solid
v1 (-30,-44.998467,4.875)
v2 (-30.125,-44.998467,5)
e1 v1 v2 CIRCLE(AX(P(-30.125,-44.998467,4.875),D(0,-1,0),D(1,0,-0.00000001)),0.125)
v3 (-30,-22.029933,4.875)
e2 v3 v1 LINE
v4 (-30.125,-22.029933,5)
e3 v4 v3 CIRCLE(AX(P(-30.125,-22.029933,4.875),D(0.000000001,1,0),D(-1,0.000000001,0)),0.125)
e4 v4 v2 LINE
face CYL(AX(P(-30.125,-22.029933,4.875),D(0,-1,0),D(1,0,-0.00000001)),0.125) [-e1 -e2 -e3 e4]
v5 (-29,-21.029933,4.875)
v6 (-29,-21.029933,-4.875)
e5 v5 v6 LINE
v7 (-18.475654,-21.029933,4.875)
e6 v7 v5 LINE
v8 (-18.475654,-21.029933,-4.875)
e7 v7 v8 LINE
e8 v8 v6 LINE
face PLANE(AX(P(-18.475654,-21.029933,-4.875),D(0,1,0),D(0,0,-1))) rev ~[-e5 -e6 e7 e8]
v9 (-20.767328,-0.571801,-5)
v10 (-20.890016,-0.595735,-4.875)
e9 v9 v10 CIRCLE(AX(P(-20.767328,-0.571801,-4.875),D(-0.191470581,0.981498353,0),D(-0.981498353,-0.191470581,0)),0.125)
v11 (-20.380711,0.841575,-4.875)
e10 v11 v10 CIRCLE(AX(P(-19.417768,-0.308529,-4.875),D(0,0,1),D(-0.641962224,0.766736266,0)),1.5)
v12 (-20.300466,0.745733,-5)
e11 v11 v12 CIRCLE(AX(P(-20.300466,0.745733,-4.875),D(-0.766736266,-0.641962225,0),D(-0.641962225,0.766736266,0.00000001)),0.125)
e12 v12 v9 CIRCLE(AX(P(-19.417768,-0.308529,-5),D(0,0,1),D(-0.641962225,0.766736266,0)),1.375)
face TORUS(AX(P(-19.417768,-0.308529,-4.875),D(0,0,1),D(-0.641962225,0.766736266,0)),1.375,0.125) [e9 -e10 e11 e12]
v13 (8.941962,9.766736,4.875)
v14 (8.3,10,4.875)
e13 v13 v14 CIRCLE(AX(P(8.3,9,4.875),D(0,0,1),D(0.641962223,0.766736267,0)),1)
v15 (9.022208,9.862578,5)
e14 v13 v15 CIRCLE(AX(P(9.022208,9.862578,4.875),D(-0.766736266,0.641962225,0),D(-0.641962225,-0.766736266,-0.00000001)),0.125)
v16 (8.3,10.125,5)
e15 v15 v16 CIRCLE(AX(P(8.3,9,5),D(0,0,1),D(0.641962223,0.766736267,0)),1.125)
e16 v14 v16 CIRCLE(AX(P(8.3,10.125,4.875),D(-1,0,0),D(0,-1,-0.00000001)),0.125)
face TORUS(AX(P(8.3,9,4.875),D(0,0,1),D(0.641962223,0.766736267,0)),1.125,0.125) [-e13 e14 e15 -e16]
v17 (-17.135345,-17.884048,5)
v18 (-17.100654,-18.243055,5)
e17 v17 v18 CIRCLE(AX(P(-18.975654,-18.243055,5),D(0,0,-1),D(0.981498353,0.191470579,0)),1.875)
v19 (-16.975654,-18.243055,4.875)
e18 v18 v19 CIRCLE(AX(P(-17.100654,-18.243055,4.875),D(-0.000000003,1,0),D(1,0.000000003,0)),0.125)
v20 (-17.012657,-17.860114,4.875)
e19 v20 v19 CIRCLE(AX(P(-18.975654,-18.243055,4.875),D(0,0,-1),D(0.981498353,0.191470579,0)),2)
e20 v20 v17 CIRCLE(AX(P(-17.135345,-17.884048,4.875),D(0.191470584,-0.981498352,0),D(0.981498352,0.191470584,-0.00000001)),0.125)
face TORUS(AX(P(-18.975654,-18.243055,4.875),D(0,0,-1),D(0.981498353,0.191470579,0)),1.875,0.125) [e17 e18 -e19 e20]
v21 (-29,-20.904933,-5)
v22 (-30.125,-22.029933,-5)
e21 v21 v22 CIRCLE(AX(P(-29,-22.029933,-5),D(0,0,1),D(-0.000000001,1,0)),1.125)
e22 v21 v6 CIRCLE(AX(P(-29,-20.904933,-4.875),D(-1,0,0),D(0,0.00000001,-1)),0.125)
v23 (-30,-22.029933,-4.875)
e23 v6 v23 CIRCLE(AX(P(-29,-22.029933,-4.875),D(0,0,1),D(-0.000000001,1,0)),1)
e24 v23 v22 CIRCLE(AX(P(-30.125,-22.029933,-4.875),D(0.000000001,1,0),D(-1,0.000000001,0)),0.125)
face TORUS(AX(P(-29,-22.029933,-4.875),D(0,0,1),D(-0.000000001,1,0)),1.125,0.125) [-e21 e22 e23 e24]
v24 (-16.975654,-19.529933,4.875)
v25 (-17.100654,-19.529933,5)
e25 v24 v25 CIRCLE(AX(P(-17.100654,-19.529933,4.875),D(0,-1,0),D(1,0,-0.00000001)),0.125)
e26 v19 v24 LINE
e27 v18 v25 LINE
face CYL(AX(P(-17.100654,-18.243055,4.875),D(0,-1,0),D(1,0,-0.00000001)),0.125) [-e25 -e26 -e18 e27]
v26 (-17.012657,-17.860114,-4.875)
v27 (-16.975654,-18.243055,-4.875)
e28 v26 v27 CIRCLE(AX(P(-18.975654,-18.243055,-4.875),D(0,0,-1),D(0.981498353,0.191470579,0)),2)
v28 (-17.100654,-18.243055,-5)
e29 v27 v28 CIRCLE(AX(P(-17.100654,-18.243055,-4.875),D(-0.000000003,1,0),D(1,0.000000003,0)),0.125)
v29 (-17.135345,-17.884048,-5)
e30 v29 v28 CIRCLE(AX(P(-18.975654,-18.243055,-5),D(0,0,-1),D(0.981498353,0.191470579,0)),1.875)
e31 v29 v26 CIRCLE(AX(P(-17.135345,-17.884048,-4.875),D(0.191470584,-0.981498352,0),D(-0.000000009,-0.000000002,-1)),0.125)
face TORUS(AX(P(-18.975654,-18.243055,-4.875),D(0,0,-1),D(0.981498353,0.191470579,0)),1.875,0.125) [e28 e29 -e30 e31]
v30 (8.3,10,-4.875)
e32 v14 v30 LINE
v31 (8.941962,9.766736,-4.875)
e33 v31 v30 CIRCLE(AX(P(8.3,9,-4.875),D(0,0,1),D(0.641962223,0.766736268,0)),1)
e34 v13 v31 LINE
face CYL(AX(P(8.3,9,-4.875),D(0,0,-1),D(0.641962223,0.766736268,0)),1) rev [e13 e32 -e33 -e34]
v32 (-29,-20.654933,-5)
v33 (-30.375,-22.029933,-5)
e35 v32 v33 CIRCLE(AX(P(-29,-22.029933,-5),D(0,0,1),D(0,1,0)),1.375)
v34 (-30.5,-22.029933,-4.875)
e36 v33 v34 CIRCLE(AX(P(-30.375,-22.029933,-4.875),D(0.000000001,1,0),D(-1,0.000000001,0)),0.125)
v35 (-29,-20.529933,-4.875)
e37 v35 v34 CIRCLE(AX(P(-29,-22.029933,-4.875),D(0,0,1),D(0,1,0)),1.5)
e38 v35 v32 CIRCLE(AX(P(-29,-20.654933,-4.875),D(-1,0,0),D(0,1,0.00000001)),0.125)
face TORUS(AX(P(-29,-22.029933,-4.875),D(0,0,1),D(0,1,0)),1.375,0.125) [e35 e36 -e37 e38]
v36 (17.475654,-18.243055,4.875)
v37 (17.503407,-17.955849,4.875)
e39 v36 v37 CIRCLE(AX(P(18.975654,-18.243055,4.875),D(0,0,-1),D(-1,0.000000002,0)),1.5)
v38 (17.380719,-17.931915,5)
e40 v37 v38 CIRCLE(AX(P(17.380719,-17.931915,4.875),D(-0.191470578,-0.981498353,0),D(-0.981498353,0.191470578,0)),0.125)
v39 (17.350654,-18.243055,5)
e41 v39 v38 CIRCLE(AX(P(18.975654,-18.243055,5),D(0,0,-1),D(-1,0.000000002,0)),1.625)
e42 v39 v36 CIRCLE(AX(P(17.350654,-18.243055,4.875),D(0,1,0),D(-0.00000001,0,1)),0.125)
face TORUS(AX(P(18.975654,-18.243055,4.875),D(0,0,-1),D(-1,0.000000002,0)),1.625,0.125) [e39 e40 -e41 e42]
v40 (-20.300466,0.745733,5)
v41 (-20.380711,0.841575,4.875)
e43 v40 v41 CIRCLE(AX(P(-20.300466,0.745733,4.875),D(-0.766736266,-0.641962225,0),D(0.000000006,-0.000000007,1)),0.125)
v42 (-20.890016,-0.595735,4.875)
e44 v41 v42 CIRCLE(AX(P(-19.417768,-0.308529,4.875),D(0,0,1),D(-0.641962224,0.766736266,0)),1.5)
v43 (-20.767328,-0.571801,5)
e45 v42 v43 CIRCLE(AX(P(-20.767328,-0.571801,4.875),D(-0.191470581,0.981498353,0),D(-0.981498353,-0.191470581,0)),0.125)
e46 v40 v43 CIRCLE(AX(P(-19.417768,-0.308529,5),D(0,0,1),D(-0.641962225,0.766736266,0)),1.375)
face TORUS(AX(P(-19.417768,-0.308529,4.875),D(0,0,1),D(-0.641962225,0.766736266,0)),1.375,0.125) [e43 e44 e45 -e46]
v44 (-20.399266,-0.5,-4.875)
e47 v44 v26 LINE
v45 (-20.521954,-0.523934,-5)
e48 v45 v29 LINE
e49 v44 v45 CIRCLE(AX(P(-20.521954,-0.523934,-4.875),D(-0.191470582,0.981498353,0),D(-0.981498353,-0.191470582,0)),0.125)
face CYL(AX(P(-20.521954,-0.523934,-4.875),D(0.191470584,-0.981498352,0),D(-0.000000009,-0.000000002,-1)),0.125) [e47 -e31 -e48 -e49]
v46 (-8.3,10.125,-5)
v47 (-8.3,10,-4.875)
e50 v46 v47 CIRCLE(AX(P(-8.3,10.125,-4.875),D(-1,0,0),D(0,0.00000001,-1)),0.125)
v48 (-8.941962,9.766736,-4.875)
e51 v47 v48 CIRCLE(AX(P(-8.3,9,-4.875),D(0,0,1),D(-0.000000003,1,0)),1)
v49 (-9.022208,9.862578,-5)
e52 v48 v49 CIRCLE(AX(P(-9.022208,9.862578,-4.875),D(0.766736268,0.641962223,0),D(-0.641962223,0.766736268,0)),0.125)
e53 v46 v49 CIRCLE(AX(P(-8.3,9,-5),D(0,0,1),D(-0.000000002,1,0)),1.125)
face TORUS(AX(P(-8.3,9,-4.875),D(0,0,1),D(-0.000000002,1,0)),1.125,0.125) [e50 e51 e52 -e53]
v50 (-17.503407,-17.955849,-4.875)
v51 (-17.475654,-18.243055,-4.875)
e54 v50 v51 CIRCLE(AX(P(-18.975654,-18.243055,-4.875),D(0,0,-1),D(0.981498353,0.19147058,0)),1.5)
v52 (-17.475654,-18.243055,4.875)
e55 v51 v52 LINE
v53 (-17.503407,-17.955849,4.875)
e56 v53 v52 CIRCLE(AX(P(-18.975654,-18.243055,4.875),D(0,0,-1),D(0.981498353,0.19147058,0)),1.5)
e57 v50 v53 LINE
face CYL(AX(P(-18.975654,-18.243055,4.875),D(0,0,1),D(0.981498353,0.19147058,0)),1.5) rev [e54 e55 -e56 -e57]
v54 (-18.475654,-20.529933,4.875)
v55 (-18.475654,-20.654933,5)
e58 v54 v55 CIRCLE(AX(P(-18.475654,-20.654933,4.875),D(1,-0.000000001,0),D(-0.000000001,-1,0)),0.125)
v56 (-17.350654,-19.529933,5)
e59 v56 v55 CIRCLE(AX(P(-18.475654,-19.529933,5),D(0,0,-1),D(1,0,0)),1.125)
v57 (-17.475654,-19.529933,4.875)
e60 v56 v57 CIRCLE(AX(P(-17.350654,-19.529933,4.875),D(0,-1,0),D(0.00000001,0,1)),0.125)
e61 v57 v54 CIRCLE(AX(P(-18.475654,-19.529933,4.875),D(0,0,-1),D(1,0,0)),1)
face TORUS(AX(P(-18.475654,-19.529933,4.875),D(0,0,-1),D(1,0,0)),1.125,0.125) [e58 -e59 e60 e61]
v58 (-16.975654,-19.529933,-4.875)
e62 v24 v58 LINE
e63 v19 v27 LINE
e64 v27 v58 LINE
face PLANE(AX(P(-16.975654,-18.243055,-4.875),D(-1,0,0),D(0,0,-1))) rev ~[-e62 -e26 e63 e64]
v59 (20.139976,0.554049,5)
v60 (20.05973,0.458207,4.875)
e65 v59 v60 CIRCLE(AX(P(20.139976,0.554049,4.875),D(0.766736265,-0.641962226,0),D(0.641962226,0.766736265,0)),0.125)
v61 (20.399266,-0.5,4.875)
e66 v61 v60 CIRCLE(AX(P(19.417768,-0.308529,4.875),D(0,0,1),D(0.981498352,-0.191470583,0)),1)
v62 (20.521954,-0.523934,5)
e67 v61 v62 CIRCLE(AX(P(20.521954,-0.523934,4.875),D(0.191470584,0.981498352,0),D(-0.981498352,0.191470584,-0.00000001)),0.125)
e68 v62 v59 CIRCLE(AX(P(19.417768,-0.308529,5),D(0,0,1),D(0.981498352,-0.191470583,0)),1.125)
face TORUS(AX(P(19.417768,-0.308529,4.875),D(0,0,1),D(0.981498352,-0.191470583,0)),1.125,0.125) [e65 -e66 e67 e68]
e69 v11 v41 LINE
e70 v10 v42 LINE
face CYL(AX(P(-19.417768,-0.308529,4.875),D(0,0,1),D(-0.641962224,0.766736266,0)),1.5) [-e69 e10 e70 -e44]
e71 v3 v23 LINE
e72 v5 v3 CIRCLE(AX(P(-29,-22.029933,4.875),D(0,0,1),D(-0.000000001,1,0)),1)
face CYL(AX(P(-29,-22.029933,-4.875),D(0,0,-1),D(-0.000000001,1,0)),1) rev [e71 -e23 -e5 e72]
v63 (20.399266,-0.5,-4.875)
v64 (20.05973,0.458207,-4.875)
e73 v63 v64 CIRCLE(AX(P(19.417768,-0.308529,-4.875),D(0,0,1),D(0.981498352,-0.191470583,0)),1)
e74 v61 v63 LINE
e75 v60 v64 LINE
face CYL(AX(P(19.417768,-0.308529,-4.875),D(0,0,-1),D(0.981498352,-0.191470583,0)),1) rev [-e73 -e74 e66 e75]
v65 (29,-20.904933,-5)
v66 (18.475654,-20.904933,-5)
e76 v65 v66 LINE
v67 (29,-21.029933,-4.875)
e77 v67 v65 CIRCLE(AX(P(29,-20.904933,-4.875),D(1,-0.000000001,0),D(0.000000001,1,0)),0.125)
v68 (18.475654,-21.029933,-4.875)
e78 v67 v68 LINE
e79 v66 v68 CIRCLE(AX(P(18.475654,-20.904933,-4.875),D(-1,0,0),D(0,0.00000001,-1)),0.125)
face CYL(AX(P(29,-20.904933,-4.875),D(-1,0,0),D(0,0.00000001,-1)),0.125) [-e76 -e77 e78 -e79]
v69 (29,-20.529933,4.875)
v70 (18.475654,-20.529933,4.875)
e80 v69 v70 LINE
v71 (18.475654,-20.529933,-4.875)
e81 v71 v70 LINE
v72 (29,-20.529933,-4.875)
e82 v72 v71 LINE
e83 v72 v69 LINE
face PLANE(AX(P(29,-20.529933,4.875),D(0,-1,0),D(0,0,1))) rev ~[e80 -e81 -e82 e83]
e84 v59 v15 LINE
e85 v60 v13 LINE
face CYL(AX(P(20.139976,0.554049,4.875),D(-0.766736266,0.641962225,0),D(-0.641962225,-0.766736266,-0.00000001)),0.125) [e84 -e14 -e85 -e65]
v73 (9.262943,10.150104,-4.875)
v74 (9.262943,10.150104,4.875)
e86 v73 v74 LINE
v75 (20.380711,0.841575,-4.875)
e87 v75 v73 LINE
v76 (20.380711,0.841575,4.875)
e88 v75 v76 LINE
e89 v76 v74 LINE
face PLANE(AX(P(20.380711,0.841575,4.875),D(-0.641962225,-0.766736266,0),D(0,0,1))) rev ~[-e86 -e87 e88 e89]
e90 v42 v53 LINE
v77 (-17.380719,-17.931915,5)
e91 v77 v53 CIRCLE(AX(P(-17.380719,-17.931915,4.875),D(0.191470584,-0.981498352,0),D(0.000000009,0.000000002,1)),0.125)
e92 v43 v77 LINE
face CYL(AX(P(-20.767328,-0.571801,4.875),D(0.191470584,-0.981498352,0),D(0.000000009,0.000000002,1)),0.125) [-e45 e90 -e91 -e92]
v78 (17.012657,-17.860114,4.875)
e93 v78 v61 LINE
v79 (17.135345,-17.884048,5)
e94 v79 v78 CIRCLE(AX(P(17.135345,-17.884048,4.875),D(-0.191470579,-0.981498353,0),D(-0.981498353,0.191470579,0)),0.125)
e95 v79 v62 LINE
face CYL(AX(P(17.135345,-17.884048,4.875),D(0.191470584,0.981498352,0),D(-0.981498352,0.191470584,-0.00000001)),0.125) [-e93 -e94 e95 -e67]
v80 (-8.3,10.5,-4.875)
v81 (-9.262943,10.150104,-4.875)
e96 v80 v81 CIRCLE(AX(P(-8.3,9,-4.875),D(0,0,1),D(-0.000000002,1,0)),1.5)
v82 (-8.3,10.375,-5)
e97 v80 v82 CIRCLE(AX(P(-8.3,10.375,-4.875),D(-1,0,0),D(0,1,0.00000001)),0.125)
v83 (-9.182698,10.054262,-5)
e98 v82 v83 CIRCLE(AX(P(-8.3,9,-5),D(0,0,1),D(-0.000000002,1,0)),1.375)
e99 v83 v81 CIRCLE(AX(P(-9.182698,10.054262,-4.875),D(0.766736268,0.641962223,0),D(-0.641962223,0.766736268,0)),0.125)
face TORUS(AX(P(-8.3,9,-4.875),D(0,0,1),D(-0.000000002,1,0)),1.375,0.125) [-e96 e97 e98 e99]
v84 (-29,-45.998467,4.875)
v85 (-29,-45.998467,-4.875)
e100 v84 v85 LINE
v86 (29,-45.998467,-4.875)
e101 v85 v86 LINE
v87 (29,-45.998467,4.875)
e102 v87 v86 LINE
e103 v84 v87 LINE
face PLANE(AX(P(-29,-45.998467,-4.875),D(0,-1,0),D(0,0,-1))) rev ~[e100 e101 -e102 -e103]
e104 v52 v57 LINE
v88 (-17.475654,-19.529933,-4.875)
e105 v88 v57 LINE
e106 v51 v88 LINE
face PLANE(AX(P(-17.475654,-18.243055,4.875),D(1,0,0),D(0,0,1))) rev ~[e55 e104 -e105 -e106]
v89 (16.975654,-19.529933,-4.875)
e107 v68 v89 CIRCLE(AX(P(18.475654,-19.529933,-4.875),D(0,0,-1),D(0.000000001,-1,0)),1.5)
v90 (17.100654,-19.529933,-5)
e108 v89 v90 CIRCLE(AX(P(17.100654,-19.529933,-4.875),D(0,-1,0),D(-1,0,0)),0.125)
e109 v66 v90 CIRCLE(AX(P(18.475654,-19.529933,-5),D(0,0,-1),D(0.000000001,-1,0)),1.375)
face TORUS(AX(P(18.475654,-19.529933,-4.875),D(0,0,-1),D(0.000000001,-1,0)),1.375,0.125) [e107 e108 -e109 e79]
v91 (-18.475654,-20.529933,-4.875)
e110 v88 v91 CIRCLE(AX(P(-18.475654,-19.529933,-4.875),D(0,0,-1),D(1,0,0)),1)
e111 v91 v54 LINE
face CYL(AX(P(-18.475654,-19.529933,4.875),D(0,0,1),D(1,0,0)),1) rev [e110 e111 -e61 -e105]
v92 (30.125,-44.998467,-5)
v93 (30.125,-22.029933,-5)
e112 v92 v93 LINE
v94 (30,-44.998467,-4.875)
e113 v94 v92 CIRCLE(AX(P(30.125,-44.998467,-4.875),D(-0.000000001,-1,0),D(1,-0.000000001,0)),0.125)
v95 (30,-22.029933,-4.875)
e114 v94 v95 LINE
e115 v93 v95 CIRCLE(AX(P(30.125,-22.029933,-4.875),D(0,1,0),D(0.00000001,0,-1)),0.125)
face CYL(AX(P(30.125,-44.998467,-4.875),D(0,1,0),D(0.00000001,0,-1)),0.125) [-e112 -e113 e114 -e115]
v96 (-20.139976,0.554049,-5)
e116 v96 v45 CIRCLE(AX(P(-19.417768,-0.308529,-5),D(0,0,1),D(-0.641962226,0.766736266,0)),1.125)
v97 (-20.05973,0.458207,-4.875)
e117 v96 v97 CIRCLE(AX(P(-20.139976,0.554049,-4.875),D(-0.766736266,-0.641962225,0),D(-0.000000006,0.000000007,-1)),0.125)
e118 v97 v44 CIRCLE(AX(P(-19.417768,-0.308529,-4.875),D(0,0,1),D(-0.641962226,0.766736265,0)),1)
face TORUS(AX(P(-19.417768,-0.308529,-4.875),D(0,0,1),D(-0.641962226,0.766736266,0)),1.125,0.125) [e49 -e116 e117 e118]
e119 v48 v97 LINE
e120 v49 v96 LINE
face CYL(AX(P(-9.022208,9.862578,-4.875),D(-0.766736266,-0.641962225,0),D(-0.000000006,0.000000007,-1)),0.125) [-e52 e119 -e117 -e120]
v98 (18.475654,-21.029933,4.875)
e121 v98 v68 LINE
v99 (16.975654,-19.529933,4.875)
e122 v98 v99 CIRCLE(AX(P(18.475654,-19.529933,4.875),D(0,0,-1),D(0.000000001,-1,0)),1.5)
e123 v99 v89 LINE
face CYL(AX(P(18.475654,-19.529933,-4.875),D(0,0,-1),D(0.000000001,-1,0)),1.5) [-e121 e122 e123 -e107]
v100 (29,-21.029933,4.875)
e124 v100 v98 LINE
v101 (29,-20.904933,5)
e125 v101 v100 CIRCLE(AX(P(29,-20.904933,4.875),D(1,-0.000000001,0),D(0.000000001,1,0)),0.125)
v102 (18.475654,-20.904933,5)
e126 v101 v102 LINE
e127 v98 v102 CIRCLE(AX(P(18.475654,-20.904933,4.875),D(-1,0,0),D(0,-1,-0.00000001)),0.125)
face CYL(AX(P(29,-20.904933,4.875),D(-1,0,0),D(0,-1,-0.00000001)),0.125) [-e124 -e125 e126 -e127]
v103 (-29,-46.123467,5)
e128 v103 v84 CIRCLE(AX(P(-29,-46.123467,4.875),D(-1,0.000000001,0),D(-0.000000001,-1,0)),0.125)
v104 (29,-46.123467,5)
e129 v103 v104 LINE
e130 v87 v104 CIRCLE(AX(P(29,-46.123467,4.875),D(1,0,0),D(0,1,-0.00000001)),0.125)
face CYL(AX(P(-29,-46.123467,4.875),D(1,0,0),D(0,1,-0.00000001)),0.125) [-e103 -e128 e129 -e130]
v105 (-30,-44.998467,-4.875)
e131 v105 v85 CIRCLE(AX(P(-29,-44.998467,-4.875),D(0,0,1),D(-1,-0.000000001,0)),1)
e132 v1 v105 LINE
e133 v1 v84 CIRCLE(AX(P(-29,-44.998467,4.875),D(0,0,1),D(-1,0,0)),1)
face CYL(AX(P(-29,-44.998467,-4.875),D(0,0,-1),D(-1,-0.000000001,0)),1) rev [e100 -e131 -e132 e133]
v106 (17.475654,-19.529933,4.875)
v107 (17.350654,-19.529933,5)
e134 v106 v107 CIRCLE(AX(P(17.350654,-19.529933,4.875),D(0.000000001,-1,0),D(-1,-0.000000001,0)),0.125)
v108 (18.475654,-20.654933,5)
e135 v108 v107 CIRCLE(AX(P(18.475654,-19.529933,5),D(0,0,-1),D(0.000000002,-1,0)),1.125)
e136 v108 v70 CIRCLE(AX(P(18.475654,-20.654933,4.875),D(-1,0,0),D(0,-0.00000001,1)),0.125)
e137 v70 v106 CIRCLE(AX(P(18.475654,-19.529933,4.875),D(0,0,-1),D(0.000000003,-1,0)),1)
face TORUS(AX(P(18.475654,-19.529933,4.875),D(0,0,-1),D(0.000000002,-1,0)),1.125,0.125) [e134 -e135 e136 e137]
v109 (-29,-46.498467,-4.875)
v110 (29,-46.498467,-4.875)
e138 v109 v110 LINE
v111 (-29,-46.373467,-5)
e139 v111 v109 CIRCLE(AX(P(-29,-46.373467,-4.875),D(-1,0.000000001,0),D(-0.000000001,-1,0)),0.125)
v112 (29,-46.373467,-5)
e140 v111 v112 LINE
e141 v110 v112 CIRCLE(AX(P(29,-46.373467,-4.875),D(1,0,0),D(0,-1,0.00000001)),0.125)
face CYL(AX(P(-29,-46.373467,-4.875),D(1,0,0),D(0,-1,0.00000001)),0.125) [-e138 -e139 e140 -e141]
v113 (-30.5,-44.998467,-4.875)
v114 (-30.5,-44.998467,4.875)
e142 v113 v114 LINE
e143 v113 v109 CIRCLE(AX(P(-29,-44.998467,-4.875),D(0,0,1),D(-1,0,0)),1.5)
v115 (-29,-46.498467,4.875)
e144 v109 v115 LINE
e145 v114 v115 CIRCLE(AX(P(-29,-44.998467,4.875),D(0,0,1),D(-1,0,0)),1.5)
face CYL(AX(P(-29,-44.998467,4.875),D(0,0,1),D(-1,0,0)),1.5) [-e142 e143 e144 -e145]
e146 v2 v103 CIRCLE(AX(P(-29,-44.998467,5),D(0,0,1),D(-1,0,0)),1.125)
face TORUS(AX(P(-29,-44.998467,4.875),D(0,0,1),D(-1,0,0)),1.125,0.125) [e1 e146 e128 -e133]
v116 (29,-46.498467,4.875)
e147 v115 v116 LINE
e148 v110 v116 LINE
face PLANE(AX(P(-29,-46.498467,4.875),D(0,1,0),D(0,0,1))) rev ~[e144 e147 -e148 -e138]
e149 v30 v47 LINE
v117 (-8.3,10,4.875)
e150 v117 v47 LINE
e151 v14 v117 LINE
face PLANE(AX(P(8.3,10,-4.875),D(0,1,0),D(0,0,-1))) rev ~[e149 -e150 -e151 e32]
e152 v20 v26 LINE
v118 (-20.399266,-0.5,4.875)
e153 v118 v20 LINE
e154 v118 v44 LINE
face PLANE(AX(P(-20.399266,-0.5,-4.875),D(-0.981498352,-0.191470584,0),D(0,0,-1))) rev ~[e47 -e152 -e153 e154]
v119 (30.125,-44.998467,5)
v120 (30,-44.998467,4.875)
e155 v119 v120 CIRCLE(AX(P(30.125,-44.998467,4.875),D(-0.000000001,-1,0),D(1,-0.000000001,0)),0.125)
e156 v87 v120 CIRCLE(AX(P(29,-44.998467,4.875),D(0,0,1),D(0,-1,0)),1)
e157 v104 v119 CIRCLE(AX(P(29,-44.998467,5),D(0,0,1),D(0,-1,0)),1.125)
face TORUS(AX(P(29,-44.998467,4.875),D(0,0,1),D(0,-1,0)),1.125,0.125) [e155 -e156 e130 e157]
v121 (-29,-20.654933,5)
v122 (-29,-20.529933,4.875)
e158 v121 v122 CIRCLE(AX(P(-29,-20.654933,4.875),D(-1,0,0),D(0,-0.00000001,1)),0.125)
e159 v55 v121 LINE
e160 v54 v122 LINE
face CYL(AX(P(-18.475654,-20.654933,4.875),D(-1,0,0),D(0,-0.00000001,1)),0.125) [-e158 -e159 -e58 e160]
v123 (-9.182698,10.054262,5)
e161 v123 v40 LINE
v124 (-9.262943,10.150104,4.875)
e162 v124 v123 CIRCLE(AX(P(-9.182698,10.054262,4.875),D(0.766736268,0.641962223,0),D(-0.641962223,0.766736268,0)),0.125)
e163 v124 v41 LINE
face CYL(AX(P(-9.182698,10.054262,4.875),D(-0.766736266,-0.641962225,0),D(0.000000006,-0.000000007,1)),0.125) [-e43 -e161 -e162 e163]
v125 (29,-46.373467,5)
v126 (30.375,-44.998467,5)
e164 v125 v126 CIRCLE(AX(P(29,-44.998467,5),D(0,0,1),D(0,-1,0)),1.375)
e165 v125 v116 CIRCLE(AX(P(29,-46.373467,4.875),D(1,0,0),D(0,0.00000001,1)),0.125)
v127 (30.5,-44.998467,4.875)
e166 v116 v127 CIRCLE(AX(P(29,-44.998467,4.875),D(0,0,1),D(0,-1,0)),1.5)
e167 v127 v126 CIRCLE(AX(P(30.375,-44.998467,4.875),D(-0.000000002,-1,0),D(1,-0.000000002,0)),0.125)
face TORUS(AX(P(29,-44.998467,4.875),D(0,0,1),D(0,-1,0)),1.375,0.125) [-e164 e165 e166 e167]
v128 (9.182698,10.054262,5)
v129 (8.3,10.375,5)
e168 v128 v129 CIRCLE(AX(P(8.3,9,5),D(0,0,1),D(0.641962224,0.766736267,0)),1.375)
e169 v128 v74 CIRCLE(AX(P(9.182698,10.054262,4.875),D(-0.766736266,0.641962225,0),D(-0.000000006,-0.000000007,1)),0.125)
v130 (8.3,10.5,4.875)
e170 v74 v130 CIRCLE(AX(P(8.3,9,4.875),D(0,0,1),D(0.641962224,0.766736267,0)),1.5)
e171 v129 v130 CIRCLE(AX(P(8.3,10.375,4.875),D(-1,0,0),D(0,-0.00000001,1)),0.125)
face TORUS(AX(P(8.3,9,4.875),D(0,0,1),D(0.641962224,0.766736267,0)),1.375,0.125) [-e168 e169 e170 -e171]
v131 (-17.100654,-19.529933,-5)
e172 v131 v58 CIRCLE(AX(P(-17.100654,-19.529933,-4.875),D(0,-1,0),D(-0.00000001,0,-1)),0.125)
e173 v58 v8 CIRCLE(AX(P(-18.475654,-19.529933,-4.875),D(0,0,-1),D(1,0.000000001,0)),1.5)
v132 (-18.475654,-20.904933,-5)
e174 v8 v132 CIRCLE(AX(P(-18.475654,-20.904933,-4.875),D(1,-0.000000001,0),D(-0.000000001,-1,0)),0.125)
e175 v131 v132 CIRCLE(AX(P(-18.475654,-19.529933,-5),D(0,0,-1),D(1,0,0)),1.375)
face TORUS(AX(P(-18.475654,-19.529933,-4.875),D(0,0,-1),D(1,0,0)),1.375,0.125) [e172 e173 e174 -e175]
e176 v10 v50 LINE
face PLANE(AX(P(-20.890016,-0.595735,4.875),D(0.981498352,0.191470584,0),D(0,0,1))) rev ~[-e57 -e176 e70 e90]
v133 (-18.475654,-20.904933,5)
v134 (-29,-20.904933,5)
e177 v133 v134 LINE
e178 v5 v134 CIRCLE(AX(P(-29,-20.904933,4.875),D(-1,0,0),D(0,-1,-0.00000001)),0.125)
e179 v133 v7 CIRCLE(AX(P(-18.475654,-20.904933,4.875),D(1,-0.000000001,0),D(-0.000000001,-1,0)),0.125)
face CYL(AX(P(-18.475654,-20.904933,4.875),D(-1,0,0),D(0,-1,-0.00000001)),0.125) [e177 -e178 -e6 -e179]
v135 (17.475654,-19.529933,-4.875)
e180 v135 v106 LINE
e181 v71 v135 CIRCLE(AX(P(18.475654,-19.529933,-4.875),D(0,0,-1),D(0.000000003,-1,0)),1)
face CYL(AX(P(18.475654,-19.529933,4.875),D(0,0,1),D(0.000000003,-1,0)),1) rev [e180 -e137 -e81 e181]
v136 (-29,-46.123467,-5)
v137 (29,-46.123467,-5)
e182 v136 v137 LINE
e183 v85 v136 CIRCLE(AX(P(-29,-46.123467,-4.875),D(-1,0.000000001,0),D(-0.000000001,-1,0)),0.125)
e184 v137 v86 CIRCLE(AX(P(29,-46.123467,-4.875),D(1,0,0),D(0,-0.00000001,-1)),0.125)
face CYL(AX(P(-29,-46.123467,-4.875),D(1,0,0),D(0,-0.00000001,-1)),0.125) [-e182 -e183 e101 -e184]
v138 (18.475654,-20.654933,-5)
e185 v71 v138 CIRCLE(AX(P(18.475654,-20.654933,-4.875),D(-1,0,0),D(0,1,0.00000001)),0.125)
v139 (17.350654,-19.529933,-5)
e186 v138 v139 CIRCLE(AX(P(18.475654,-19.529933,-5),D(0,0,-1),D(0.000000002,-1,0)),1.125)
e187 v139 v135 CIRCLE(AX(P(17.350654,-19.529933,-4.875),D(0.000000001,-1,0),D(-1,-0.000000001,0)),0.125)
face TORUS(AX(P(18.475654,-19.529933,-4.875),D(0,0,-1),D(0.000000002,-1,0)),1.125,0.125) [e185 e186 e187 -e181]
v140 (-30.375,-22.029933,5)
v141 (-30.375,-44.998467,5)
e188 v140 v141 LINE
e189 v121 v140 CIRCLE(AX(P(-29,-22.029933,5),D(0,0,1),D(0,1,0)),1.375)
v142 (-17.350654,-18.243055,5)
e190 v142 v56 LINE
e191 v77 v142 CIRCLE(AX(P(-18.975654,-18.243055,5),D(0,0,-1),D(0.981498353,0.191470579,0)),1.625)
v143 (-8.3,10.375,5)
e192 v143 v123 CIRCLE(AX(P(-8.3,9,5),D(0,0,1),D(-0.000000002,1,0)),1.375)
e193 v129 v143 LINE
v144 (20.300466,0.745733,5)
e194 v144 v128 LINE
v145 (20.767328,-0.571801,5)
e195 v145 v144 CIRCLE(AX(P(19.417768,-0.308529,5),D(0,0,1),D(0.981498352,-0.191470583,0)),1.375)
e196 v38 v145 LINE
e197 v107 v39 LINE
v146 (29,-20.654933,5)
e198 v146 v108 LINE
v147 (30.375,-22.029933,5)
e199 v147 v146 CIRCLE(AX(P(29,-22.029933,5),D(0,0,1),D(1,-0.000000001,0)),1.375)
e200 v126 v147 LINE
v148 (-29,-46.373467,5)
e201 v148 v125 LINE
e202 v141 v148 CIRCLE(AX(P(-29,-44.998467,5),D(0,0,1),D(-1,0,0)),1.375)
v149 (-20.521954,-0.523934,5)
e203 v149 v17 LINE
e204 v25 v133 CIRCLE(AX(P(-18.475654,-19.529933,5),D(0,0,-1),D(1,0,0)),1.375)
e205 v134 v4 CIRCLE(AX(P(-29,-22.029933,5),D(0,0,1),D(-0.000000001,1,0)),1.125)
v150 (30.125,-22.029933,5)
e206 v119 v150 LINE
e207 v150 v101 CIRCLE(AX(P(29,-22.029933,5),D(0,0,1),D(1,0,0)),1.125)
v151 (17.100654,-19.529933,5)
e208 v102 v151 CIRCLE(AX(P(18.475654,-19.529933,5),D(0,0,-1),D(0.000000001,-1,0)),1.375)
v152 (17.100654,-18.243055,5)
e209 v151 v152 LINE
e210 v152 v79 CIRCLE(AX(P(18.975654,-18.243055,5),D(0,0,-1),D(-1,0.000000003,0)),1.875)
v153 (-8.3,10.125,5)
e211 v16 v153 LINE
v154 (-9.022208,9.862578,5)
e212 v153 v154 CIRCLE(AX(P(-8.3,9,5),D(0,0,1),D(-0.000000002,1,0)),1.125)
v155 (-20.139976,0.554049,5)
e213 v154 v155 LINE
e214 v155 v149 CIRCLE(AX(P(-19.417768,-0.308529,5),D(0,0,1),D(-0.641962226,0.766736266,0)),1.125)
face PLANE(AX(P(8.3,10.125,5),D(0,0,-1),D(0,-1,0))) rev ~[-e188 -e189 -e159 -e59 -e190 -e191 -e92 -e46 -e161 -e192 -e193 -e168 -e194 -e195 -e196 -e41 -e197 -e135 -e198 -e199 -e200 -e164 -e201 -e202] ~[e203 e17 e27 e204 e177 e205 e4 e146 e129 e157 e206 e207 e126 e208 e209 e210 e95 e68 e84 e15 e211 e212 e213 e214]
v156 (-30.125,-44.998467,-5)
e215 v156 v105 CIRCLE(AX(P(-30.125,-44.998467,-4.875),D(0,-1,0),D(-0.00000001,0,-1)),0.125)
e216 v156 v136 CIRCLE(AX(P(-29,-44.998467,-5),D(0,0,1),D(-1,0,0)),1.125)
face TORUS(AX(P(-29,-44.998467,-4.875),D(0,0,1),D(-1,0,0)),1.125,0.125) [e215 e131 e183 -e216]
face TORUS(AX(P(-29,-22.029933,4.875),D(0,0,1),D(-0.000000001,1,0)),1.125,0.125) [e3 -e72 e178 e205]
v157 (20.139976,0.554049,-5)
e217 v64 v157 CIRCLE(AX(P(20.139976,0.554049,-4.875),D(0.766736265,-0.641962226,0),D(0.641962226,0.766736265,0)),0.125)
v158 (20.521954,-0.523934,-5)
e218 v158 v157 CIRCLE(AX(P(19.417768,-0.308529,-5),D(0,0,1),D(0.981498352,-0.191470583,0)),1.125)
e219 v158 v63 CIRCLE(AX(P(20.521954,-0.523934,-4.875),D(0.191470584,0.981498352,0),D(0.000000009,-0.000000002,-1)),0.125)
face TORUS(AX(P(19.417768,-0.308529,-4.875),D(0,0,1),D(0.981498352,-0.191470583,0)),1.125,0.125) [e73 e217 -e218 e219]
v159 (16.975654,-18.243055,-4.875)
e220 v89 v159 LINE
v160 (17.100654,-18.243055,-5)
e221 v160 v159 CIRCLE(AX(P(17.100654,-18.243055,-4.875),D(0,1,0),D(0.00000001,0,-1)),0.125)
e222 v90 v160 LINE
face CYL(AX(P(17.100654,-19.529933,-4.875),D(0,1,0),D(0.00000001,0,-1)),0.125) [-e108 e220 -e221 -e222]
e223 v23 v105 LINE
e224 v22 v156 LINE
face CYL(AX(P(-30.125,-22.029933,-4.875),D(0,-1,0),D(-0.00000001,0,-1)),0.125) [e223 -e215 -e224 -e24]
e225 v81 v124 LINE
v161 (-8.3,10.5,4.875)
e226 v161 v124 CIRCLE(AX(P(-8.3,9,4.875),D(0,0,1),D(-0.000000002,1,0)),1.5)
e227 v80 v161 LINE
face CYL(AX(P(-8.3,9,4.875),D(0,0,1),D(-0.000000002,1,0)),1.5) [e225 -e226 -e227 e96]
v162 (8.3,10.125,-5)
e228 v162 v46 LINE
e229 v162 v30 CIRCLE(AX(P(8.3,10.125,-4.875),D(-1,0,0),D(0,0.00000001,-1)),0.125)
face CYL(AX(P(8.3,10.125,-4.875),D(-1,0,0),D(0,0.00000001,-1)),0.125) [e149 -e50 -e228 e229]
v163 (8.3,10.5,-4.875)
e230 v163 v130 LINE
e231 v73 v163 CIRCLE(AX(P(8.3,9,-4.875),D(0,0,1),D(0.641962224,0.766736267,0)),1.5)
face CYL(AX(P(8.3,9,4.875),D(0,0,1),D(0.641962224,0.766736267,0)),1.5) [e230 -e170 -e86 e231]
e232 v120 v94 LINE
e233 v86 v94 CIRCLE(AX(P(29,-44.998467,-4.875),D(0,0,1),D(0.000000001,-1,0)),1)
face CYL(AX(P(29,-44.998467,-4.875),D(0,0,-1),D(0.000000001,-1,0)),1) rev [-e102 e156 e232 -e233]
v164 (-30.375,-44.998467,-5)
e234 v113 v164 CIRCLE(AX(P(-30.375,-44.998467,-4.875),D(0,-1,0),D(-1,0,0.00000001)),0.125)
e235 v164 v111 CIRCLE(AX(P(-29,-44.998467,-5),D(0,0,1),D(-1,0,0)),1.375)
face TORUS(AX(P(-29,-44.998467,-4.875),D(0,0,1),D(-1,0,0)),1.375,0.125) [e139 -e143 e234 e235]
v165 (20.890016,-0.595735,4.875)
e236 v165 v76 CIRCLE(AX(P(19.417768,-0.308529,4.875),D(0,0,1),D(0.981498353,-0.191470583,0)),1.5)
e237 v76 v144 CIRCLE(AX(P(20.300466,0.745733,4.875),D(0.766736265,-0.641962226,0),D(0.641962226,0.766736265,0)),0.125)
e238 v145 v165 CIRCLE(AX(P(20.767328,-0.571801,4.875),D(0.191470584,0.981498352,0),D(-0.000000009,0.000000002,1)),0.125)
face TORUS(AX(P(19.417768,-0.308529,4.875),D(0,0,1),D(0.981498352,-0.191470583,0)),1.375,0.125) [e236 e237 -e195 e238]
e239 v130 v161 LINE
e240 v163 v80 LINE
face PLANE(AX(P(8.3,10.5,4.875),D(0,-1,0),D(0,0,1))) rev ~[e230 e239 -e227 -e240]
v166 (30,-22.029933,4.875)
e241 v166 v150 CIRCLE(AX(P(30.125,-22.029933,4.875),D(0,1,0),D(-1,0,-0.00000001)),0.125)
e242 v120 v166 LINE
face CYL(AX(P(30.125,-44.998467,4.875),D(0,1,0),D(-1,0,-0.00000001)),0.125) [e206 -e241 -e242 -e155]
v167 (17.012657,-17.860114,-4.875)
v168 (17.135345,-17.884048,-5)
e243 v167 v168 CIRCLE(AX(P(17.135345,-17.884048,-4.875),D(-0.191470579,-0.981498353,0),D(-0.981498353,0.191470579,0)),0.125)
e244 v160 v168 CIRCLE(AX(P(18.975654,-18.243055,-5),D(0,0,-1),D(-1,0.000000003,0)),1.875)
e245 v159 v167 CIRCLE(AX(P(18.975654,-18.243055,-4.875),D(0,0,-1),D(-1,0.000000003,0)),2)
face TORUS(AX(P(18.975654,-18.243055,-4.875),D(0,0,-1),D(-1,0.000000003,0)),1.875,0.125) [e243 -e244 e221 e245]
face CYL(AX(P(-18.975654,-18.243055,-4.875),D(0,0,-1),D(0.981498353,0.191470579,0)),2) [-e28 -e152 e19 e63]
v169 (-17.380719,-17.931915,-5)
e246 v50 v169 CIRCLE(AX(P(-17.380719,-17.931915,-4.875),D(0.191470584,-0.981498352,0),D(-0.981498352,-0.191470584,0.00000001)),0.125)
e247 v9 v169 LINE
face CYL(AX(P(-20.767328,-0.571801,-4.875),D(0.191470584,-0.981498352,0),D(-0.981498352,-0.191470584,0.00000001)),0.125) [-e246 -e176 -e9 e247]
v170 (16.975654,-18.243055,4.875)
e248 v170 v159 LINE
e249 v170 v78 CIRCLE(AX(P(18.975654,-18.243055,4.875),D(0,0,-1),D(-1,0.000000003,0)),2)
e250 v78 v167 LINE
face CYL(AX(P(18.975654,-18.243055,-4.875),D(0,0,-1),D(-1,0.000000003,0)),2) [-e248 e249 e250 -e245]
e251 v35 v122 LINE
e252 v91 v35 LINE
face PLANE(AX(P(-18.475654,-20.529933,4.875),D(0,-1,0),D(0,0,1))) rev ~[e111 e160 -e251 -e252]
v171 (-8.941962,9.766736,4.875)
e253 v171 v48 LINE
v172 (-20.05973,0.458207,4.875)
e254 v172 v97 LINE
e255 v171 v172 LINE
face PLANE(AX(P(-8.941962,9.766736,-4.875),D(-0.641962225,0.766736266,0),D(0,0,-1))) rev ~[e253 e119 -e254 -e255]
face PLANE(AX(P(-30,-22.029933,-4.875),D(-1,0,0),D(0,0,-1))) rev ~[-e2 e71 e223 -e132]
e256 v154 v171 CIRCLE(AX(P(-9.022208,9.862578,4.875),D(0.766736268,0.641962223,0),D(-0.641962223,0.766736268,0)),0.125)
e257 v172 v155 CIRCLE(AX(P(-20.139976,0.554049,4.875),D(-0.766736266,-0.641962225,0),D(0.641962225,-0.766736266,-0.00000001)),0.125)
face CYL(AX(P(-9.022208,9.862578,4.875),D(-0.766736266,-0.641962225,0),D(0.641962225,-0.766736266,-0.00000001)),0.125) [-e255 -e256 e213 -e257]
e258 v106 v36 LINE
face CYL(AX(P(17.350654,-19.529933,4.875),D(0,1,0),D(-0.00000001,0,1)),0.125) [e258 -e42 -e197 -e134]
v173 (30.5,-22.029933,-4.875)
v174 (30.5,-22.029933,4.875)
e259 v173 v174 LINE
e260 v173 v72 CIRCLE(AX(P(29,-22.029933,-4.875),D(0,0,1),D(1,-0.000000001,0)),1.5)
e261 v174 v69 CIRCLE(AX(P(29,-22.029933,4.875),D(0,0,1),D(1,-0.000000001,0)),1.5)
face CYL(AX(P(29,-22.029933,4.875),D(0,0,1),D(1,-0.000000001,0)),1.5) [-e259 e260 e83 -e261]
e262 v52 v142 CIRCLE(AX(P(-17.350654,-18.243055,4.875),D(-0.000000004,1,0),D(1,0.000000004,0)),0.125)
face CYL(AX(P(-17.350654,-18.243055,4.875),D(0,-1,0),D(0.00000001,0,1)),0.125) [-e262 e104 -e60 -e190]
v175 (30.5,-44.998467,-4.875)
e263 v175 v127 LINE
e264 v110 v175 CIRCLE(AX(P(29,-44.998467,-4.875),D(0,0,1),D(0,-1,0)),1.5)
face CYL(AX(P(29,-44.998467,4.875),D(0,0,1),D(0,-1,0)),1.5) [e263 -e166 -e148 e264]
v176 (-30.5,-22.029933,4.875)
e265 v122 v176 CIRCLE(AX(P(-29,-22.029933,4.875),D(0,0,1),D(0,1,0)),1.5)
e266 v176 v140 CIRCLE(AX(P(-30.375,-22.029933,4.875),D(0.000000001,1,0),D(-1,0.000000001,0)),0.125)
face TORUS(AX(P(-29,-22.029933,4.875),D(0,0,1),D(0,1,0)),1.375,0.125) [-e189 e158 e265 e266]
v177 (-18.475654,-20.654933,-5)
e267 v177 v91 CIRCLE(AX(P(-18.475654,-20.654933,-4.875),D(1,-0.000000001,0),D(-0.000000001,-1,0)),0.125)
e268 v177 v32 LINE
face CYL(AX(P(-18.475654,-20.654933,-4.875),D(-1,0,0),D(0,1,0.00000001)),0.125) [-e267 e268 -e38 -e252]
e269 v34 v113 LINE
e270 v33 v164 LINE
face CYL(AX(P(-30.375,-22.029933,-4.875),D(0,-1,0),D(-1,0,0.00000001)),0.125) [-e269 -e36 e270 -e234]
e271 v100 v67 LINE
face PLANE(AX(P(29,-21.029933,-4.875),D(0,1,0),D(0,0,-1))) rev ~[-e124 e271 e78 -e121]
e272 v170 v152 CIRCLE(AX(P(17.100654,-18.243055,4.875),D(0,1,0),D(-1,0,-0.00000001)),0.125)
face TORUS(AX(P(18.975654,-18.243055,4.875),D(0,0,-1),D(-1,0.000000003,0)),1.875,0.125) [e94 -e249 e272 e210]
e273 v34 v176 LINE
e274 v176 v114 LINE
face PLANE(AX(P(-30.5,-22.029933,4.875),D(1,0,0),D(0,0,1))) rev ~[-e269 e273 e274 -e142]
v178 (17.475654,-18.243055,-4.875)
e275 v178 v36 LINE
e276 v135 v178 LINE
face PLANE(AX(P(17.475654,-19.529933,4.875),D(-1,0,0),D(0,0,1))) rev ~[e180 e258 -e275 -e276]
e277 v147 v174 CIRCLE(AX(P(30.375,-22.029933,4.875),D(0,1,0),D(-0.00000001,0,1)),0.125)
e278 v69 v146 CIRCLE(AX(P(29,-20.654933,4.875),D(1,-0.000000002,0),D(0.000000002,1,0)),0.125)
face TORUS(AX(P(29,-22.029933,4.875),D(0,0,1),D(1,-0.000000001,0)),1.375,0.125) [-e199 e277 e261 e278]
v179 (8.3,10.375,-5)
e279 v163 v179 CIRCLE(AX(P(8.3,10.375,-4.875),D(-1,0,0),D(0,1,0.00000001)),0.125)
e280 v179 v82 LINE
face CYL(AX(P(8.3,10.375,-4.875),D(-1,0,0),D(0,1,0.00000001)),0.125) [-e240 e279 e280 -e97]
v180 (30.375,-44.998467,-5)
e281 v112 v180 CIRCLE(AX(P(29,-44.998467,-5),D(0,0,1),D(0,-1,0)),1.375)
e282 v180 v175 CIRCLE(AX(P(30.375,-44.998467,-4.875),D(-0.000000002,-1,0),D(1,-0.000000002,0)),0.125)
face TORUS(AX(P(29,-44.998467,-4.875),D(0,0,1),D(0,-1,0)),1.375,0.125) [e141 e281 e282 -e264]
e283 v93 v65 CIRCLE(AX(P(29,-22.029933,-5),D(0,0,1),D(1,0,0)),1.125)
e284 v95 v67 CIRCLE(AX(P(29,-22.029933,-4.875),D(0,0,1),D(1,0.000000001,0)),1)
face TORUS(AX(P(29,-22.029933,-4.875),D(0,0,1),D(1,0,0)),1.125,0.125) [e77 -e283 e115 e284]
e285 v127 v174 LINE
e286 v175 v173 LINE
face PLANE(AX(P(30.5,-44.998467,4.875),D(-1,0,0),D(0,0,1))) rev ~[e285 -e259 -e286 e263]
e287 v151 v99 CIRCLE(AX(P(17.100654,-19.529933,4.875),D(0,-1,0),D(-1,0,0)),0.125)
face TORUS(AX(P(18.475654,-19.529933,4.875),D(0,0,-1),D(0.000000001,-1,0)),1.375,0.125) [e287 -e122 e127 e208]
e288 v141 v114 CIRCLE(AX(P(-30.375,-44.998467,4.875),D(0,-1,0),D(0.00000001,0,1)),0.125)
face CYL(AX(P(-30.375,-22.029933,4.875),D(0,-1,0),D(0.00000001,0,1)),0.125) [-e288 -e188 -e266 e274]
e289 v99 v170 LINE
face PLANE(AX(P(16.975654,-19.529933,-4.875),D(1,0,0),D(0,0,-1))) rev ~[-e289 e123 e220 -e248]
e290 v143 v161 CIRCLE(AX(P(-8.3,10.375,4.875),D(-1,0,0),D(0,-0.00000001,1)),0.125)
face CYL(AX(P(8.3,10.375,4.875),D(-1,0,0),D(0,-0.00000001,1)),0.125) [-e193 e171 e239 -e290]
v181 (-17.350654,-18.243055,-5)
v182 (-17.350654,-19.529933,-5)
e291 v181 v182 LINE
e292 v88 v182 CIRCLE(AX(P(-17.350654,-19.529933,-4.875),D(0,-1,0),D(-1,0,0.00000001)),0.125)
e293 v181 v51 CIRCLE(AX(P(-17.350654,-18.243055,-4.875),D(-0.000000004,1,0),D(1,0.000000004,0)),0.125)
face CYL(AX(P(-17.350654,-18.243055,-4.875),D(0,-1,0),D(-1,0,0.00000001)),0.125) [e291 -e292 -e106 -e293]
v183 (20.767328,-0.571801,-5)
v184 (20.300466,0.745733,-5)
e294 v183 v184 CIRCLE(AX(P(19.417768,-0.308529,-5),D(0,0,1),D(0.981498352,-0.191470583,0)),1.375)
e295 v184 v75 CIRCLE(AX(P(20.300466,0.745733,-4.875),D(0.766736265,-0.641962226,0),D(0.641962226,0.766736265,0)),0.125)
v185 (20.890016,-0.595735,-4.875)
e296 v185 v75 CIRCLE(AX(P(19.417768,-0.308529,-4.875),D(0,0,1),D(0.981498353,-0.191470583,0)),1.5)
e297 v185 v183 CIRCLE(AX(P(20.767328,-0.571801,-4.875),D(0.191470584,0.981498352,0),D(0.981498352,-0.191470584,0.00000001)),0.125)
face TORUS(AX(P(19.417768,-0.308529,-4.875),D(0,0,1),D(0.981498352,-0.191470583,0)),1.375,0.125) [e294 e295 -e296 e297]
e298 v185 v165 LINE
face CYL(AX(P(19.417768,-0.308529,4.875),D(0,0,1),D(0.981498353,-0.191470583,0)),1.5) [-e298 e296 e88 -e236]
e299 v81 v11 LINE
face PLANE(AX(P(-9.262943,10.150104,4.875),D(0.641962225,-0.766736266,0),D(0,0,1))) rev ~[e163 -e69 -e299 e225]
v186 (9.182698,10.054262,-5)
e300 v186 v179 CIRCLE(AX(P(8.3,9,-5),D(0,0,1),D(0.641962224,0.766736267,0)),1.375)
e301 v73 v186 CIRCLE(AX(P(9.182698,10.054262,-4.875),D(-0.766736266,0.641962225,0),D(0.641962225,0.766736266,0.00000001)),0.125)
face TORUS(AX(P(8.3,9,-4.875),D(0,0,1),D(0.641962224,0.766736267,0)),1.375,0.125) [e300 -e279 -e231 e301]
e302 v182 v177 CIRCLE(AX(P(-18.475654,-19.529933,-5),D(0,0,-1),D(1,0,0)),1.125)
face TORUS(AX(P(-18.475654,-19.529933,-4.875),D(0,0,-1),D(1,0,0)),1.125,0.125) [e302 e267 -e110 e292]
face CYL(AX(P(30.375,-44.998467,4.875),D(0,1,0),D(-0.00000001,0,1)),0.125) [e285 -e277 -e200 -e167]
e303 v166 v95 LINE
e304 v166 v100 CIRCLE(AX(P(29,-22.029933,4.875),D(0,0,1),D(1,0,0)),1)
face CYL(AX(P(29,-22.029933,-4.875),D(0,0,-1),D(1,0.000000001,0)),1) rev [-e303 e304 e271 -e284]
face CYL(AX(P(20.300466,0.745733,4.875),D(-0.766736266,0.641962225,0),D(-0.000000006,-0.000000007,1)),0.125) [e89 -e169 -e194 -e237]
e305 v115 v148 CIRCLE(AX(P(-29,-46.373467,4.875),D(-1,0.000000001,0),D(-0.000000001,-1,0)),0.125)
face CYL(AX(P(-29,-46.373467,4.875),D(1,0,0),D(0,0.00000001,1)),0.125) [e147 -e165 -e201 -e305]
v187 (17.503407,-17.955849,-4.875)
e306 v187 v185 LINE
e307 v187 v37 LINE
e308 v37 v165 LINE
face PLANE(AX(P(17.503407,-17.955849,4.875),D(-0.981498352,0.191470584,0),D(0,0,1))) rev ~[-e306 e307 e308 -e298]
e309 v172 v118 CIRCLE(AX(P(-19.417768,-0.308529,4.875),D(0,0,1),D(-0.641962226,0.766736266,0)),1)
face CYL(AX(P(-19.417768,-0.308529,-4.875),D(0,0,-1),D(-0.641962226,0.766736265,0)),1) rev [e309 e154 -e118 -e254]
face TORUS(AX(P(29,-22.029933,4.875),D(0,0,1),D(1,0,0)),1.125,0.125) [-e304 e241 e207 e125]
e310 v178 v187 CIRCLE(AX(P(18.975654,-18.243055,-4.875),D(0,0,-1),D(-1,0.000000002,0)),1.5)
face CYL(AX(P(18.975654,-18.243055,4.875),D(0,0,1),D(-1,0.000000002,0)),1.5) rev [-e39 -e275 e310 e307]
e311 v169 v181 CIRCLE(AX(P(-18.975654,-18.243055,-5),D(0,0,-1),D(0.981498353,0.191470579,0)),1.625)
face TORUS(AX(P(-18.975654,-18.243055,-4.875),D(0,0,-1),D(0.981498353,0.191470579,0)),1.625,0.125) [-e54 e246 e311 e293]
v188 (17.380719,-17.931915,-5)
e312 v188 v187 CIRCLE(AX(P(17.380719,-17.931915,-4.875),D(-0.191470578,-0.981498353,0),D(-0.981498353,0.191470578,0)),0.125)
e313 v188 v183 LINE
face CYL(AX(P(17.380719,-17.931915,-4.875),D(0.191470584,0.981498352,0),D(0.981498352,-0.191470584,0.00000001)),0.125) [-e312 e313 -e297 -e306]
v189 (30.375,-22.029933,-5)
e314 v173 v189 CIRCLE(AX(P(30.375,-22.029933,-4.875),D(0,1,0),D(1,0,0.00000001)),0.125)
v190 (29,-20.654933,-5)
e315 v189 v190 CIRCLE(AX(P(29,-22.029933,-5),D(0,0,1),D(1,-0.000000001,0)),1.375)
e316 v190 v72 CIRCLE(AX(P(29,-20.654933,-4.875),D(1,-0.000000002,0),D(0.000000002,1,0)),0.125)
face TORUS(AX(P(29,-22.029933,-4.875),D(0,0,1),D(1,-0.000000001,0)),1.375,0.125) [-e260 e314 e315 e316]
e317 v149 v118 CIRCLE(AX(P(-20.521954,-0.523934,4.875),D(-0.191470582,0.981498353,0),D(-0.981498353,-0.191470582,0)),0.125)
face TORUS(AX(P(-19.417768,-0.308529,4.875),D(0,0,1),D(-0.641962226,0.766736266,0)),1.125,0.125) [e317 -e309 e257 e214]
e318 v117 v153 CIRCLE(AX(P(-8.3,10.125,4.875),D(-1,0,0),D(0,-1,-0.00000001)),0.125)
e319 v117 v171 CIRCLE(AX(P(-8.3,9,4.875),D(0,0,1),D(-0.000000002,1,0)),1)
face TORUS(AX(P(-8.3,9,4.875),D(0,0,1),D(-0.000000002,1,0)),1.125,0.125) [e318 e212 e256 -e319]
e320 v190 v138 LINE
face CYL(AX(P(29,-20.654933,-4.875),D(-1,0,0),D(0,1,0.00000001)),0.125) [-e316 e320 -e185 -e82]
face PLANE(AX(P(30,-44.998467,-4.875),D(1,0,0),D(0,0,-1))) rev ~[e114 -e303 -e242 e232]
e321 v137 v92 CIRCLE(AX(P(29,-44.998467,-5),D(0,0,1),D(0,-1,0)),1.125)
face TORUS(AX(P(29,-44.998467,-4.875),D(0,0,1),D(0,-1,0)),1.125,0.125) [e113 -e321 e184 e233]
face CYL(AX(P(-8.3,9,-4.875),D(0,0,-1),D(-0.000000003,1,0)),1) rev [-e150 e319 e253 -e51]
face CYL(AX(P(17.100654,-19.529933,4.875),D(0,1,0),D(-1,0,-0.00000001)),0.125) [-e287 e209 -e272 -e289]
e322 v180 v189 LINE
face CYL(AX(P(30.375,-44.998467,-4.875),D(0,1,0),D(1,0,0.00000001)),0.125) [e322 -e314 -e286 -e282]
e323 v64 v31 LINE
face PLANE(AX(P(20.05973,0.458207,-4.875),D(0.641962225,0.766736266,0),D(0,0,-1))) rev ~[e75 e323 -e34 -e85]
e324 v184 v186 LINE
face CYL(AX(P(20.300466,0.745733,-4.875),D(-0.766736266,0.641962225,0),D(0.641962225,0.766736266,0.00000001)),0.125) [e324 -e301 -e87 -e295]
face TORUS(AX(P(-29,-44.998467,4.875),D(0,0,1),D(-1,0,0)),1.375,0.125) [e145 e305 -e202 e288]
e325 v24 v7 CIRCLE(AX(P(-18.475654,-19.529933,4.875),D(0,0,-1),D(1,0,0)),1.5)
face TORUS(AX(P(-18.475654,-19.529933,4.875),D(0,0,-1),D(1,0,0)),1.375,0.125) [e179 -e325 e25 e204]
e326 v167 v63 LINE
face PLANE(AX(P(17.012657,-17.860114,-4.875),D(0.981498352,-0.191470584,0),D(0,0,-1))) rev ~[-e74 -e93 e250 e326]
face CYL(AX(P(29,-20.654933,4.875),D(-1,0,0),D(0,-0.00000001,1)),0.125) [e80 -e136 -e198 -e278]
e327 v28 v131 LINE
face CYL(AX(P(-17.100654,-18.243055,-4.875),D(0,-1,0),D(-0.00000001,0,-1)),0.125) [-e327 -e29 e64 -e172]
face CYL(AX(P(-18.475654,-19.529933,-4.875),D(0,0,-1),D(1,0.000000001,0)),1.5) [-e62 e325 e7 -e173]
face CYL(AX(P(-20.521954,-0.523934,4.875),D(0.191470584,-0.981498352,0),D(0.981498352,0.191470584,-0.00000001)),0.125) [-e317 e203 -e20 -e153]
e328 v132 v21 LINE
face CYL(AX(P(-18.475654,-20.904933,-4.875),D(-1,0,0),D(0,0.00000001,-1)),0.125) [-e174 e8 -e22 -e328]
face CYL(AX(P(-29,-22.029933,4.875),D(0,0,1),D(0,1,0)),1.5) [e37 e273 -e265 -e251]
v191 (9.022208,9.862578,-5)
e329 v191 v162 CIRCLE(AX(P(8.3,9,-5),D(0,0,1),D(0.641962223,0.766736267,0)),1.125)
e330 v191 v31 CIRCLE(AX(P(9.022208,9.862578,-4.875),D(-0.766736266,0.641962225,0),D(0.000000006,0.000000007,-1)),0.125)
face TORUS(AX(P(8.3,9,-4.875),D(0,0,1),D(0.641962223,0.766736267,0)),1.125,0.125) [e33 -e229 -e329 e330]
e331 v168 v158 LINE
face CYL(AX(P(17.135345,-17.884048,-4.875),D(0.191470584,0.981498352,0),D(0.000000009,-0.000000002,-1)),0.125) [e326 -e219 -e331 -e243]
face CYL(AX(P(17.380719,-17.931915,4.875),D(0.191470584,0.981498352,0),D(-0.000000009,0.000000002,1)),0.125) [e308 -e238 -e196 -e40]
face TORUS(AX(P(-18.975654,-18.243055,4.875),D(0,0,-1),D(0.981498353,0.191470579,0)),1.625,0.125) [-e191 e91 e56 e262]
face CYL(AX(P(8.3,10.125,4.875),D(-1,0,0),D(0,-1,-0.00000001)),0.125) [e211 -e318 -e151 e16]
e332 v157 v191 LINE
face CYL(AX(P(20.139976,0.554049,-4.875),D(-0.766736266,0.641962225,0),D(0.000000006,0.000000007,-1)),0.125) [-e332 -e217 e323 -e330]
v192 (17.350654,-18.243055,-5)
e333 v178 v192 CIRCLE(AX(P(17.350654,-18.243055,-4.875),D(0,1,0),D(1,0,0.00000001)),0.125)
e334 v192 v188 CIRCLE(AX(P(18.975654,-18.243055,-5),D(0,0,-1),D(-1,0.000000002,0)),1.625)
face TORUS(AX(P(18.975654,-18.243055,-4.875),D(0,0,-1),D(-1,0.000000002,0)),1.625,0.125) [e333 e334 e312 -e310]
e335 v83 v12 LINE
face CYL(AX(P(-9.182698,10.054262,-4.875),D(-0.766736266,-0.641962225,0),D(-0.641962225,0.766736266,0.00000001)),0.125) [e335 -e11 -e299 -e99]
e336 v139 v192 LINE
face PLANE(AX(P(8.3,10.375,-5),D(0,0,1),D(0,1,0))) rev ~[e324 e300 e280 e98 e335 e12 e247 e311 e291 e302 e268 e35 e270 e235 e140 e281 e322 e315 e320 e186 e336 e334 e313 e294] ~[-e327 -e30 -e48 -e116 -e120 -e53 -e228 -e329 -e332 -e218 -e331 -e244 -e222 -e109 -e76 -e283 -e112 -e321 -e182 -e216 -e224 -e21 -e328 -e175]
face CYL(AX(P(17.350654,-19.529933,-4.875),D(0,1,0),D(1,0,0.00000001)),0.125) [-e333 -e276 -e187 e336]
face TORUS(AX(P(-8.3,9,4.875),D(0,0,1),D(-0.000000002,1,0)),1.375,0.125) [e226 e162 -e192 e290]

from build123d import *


with BuildPart() as part:
    # Sweep2: sweep along a path in Sketch1
    with BuildLine(Plane.XY) as sweep2_path:
        Line((8.3, 10), (-8.3, 10))
        ThreePointArc((-8.3, 10), (-8.64151408, 9.939876658), (-8.941962225, 9.766736266))
        Line((-8.941962225, 9.766736266), (-20.059730236, 0.45820685))
        ThreePointArc((-20.059730236, 0.45820685), (-20.360342227, 0.02546736), (-20.399266363, -0.5))
        Line((-20.399266363, -0.5), (-17.012657372, -17.860113915))
        ThreePointArc((-17.012657372, -17.860113915), (-16.984926395, -18.050692676), (-16.975654077, -18.243055082))
        Line((-16.975654077, -18.243055082), (-16.975654077, -19.529933071))
        ThreePointArc((-16.975654077, -19.529933071), (-17.414993905, -20.590593243), (-18.475654077, -21.029933071))
        Line((-18.475654077, -21.029933071), (-29, -21.029933071))
        ThreePointArc((-29, -21.029933071), (-29.707106781, -21.32282629), (-30, -22.029933071))
        Line((-30, -22.029933071), (-30, -44.99846681))
        ThreePointArc((-30, -44.99846681), (-29.707106781, -45.705573591), (-29, -45.99846681))
        Line((-29, -45.99846681), (29, -45.99846681))
        ThreePointArc((29, -45.99846681), (29.707106781, -45.705573591), (30, -44.99846681))
        Line((30, -44.99846681), (30, -22.029933071))
        ThreePointArc((30, -22.029933071), (29.707106781, -21.32282629), (29, -21.029933071))
        Line((29, -21.029933071), (18.475654077, -21.029933071))
        ThreePointArc((18.475654077, -21.029933071), (17.414993905, -20.590593243), (16.975654077, -19.529933071))
        Line((16.975654077, -19.529933071), (16.975654077, -18.243055082))
        ThreePointArc((16.975654077, -18.243055082), (16.984926395, -18.050692676), (17.012657372, -17.860113915))
        Line((17.012657372, -17.860113915), (20.399266363, -0.5))
        ThreePointArc((20.399266363, -0.5), (20.360342227, 0.02546736), (20.059730236, 0.45820685))
        Line((20.059730236, 0.45820685), (8.941962225, 9.766736266))
        ThreePointArc((8.941962225, 9.766736266), (8.64151408, 9.939876658), (8.3, 10))
    # Sketch2 → Sweep2 (sweep)
    with BuildSketch(Plane(origin=(0, 0, 0), x_dir=(0, 0, -1), z_dir=(1, 0, 0))):
        with BuildLine():
            Line((-4.875, 10.5), (4.875, 10.5))
            ThreePointArc((4.875, 10.5), (4.963388348, 10.463388348), (5, 10.375))
            Line((5, 10.375), (5, 10.125))
            ThreePointArc((5, 10.125), (4.963388348, 10.036611652), (4.875, 10))
            Line((4.875, 10), (-4.875, 10))
            ThreePointArc((-4.875, 10), (-4.963388348, 10.036611652), (-5, 10.125))
            Line((-5, 10.125), (-5, 10.375))
            ThreePointArc((-5, 10.375), (-4.963388348, 10.463388348), (-4.875, 10.5))
        make_face()
    sweep(path=sweep2_path.line)


solid = part.part
